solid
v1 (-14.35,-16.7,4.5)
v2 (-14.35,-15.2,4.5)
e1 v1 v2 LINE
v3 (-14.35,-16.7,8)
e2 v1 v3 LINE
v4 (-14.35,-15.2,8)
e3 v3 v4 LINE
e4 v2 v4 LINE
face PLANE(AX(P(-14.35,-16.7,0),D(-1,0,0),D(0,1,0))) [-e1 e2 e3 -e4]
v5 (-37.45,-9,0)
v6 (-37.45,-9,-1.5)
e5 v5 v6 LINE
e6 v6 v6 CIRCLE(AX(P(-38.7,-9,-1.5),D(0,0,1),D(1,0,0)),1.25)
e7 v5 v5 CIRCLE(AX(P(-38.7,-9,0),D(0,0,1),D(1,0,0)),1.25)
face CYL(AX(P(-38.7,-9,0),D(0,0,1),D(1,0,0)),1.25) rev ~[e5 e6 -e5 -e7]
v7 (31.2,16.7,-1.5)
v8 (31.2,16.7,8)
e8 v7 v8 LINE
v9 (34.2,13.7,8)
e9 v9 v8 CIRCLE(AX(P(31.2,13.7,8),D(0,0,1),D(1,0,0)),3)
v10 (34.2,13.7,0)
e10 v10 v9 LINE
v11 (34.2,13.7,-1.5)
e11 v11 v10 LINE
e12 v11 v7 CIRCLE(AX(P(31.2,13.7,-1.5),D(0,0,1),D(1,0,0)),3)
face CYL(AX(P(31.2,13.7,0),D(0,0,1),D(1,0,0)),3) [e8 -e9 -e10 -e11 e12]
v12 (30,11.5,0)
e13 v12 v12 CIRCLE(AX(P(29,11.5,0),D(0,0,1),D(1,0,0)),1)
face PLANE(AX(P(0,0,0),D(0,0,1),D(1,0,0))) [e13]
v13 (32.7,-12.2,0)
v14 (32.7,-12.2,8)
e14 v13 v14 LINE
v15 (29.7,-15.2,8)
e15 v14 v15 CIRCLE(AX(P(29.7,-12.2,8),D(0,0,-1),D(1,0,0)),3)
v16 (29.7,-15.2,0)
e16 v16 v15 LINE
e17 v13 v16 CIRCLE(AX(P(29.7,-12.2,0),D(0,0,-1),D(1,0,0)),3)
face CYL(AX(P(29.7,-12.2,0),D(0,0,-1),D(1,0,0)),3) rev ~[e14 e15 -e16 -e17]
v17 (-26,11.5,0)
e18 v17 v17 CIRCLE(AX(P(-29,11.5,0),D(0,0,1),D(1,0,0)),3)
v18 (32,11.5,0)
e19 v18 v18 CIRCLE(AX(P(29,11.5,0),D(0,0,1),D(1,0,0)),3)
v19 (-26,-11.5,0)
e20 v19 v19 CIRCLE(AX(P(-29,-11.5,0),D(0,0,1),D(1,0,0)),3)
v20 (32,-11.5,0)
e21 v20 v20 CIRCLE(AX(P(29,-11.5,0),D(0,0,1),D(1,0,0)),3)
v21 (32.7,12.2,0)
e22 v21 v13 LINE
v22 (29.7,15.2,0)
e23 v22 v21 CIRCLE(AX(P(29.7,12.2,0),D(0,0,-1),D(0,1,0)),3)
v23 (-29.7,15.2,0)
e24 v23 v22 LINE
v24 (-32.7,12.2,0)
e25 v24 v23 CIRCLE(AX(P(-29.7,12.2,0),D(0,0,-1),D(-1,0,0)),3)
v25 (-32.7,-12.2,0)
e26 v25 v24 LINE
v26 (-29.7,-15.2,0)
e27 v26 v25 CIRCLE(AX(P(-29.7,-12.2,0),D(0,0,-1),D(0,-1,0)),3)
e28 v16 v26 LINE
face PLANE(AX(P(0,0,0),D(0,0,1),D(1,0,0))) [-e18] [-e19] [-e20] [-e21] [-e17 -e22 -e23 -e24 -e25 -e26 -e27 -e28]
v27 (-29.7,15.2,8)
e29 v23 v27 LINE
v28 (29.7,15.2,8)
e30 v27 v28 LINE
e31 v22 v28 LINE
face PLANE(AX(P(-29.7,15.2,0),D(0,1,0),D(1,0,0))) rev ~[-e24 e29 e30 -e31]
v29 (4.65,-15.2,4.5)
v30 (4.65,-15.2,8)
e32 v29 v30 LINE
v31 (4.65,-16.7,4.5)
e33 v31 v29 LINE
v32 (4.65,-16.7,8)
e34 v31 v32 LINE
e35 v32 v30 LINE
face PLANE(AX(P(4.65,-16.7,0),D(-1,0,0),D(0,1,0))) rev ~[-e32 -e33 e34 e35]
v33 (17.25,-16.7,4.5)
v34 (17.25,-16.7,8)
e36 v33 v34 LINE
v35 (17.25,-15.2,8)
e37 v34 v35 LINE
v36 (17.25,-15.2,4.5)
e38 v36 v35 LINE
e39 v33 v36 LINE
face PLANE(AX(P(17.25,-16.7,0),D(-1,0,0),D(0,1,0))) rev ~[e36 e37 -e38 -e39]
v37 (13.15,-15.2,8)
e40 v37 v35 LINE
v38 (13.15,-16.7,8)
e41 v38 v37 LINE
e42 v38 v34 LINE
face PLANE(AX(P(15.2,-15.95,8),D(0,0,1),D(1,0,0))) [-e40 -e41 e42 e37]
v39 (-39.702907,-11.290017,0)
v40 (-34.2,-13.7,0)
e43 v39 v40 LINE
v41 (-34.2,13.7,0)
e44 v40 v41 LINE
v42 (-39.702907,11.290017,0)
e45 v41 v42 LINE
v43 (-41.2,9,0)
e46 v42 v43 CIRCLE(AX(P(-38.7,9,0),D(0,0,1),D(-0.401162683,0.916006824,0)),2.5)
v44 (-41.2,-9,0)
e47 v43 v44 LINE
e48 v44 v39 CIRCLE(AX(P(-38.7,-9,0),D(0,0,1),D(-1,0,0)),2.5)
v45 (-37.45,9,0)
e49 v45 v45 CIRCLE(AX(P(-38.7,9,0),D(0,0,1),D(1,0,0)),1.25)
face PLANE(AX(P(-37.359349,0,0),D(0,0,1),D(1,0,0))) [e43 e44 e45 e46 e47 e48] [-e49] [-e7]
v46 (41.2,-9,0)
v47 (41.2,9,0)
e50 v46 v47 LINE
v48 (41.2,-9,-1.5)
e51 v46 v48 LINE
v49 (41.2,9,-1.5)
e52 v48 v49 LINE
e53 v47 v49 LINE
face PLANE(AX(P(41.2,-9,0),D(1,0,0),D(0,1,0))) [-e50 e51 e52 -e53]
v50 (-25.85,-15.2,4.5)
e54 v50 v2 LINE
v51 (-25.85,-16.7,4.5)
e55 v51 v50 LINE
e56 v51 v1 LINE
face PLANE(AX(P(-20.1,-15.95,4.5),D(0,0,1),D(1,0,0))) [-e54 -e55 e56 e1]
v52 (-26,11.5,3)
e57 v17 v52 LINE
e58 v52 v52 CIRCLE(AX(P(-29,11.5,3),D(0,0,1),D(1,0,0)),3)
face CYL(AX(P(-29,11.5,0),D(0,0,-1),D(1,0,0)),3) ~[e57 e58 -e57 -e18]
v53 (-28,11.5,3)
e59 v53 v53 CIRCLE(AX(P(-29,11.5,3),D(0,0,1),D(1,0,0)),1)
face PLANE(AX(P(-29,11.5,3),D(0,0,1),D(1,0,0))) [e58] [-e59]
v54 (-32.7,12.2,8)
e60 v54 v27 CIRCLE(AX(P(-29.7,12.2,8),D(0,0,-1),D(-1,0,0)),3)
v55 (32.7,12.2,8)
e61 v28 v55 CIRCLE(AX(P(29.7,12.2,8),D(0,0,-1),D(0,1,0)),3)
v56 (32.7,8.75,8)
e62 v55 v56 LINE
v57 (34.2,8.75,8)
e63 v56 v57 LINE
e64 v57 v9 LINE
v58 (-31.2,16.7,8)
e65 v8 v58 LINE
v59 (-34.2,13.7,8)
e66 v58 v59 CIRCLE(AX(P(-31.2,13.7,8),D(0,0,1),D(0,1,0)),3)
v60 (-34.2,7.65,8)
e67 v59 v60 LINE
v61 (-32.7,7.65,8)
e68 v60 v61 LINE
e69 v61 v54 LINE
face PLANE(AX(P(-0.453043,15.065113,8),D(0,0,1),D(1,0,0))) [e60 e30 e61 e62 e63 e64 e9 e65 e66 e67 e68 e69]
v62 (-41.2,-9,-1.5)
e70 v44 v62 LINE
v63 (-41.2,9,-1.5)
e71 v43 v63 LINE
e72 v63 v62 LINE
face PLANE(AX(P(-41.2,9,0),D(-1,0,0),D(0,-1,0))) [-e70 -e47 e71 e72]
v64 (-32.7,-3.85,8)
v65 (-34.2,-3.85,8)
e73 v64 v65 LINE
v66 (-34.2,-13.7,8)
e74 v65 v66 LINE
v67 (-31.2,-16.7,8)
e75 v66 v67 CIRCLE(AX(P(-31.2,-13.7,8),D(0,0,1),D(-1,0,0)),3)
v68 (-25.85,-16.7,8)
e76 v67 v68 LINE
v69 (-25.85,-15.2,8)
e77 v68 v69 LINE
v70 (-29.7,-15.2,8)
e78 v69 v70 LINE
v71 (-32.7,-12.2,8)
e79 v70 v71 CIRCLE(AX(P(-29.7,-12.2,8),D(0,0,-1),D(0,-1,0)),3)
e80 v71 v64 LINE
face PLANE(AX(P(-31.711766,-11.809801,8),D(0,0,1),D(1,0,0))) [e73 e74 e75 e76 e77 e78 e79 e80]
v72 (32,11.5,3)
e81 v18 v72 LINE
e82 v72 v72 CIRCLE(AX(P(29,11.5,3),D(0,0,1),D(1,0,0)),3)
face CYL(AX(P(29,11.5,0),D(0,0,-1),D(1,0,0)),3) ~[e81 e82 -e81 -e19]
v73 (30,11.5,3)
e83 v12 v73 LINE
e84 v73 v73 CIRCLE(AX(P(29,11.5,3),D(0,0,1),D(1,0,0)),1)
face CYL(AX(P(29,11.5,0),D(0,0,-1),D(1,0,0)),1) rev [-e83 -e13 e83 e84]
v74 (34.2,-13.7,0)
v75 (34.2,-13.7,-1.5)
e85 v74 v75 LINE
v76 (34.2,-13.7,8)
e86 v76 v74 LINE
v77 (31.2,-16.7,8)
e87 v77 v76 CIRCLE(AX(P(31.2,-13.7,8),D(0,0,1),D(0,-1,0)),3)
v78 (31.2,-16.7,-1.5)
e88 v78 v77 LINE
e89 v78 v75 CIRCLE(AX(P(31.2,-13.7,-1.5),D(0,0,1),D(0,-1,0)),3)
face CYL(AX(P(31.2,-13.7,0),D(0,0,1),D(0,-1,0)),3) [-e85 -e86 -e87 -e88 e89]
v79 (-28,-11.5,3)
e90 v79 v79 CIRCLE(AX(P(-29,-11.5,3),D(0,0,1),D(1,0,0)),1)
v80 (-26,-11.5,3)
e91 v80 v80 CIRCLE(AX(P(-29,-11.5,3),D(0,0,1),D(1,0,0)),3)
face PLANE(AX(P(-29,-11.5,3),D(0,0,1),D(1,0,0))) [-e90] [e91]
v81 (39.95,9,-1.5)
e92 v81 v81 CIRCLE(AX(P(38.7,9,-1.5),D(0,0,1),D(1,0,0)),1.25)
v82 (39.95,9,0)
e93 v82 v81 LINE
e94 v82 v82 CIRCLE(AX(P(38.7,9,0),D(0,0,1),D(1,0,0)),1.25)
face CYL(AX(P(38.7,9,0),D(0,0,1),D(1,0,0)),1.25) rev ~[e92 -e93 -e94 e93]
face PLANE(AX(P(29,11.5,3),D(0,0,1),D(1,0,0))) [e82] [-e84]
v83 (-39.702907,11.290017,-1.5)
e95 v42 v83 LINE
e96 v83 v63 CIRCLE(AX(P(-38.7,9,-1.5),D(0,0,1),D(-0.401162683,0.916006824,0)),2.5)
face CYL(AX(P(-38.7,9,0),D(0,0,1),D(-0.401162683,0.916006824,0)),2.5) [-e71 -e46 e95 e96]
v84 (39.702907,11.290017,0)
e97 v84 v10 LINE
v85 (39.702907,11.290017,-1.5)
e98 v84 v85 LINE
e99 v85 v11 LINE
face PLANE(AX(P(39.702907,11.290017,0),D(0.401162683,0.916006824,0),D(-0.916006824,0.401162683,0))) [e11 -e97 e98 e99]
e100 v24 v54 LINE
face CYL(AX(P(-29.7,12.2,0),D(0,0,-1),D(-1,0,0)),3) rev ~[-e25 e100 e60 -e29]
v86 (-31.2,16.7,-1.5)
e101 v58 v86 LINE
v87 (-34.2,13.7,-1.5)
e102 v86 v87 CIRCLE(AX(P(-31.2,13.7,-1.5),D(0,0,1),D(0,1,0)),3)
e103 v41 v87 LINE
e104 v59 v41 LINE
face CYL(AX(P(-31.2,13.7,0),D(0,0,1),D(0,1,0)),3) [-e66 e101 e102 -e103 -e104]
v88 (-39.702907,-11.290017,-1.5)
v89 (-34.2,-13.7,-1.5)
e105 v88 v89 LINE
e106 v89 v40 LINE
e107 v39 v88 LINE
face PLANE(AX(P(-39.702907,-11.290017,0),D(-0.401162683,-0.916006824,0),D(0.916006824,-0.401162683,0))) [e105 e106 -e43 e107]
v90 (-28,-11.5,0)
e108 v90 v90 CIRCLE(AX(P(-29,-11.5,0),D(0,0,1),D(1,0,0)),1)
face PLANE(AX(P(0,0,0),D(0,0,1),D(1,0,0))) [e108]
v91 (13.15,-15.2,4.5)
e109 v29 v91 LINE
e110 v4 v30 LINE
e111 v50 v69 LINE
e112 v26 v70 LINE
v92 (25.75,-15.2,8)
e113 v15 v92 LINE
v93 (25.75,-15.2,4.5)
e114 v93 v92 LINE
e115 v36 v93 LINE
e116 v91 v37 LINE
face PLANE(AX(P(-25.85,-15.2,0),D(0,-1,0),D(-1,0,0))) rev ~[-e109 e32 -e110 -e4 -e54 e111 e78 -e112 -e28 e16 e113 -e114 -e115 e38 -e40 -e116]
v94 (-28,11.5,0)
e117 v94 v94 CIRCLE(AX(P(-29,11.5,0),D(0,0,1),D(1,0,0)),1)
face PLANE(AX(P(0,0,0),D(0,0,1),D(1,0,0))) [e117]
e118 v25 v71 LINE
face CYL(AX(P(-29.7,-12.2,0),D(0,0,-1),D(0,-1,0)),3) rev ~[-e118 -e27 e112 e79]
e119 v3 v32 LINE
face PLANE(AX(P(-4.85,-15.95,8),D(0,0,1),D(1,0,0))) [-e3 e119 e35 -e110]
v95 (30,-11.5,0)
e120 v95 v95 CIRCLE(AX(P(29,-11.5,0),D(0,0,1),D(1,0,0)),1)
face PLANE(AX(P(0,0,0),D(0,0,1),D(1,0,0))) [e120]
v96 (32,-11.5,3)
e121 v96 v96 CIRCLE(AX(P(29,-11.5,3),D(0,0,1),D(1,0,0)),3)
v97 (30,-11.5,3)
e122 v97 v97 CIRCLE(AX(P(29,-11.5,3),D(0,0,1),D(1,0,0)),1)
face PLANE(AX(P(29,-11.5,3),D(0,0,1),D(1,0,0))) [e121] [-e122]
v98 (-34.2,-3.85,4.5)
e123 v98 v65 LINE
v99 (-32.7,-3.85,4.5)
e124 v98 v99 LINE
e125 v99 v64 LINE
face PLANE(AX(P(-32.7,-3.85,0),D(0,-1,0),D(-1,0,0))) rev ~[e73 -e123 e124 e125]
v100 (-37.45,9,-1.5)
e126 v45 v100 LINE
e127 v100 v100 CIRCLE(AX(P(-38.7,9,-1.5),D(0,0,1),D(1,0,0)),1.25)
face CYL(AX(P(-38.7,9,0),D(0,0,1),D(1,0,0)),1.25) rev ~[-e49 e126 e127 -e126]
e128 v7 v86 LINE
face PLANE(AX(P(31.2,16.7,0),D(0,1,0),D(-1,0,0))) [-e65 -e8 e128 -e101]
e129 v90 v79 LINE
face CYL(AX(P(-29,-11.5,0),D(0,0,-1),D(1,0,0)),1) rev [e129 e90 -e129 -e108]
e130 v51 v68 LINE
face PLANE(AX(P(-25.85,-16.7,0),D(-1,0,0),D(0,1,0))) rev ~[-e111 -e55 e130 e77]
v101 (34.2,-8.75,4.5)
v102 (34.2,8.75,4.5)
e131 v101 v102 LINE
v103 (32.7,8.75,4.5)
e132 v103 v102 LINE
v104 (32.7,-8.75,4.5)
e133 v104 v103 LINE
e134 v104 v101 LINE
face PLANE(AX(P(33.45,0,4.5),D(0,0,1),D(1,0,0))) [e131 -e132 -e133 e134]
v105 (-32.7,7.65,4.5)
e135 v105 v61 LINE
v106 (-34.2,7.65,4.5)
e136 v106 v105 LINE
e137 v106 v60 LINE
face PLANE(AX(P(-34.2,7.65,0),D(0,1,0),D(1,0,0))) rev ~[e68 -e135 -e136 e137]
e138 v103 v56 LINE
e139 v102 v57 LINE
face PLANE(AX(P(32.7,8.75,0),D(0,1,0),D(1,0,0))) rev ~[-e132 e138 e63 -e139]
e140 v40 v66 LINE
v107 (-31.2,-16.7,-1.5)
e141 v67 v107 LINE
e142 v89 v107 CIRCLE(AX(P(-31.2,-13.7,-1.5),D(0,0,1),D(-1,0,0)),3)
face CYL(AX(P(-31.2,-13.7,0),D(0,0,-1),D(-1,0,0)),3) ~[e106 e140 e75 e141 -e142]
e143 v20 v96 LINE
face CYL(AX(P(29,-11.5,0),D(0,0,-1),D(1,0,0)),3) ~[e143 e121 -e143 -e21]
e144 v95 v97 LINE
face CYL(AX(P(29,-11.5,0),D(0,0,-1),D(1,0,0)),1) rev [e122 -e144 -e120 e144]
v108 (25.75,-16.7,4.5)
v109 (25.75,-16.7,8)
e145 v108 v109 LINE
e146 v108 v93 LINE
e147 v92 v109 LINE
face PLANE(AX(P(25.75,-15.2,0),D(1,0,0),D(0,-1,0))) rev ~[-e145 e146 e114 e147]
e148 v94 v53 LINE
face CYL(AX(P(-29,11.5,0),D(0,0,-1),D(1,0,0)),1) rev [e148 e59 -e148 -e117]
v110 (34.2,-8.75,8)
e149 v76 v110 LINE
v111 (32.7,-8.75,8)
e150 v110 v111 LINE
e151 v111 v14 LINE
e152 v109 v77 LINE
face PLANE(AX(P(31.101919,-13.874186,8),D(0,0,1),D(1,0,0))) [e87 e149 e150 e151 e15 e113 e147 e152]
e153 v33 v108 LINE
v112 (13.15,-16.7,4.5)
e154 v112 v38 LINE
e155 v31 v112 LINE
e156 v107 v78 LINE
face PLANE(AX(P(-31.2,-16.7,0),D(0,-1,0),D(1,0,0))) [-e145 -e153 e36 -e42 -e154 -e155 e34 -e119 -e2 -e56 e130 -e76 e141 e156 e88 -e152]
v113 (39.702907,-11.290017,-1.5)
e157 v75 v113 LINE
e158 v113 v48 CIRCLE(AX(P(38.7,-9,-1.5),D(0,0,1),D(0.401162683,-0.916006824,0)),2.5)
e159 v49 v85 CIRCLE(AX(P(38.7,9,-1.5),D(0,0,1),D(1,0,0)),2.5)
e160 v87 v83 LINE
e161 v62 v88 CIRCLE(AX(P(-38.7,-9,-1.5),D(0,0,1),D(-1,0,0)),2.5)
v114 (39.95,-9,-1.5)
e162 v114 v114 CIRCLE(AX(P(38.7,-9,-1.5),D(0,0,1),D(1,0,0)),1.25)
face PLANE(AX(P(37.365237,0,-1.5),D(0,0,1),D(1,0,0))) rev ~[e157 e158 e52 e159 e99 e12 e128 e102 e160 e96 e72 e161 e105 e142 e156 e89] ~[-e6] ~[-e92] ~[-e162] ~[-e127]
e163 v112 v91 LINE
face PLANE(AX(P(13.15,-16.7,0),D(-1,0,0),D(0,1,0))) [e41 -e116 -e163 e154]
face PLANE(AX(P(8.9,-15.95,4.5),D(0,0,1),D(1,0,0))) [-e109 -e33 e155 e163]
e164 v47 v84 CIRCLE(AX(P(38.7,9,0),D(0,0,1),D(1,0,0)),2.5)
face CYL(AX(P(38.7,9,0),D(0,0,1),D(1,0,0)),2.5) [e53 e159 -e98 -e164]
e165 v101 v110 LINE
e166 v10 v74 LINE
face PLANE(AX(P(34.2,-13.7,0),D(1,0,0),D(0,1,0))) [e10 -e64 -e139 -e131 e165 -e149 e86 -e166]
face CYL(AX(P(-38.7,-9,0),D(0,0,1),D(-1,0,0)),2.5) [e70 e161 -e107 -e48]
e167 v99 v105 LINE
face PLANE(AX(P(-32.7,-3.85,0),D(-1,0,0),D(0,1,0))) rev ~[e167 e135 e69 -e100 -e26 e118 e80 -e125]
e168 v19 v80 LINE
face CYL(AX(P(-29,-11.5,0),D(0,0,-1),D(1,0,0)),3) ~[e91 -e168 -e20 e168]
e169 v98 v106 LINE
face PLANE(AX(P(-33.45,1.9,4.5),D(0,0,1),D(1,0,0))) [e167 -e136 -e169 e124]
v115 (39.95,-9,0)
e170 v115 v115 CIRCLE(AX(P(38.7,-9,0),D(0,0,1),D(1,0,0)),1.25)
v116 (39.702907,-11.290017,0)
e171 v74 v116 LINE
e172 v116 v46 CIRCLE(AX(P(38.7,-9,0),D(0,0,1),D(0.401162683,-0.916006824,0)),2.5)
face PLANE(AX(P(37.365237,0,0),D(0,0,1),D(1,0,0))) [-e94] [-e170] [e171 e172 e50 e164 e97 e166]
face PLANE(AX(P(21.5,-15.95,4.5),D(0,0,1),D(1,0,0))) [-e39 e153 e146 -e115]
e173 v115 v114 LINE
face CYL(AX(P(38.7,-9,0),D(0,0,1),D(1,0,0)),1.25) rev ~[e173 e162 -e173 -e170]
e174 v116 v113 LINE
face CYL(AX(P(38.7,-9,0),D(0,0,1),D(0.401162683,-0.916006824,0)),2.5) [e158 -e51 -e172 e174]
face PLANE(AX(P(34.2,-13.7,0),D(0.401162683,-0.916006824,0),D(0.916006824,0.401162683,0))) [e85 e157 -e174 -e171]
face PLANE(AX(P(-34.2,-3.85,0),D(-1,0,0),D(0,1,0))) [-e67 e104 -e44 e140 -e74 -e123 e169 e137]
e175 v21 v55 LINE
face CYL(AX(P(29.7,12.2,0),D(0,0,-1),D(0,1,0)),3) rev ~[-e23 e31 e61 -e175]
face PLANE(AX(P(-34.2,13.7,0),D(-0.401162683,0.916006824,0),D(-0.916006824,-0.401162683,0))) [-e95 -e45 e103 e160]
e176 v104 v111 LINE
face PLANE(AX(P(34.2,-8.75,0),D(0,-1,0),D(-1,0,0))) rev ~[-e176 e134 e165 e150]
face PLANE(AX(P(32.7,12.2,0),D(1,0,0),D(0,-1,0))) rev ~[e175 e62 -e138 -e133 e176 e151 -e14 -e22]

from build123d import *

# Parameters (mm, degrees)
F0_R     = 3
F0_W     = 19
F0_H     = 1.5
F0_R_2   = 1
F0_W_2   = 1.5
F0_H_2   = 17.5
F0_H_3   = 11.5
F0_W_3   = 11.5
F0_W_4   = 8.5
F0_W_5   = 4.1
F1_DEPTH = 1.5
F2_DEPTH = 3
F3_DEPTH = 8
F4_DEPTH = 4.5
F5_R     = 1.25
F6_DEPTH = 1.5


with BuildPart() as f1:
    # F0 (on Top) → F1 (new body)
    with BuildSketch(Plane.XY):
        with BuildLine():
            Line((29.7, 15.2), (-29.7, 15.2))
            ThreePointArc((-29.7, 15.2), (-31.8213203436, 14.3213203436), (-32.7, 12.2))
            Line((-32.7, 12.2), (-32.7, 7.65))
            Line((-32.7, 7.65), (-32.7, -3.85))
            Line((-32.7, -3.85), (-32.7, -12.2))
            ThreePointArc((-32.7, -12.2), (-31.8213203436, -14.3213203436), (-29.7, -15.2))
            Line((-29.7, -15.2), (-25.85, -15.2))
            Line((-25.85, -15.2), (-14.35, -15.2))
            Line((-14.35, -15.2), (4.65, -15.2))
            Line((4.65, -15.2), (13.15, -15.2))
            Line((13.15, -15.2), (17.25, -15.2))
            Line((17.25, -15.2), (25.75, -15.2))
            Line((25.75, -15.2), (29.7, -15.2))
            ThreePointArc((29.7, -15.2), (31.8213203436, -14.3213203436), (32.7, -12.2))
            Line((32.7, -12.2), (32.7, -8.75))
            Line((32.7, -8.75), (32.7, 8.75))
            Line((32.7, 8.75), (32.7, 12.2))
            ThreePointArc((32.7, 12.2), (31.8213203436, 14.3213203436), (29.7, 15.2))
        make_face()
        with Locations((-29, -11.5)):
            Circle(F0_R, mode=Mode.SUBTRACT)
        with Locations((29, -11.5)):
            Circle(F0_R, mode=Mode.SUBTRACT)
        with Locations((-29, 11.5)):
            Circle(F0_R, mode=Mode.SUBTRACT)
        with Locations((29, 11.5)):
            Circle(F0_R, mode=Mode.SUBTRACT)
        with BuildLine():
            ThreePointArc((-32.7, 12.2), (-31.8213203436, 14.3213203436), (-29.7, 15.2))
            Line((-29.7, 15.2), (29.7, 15.2))
            ThreePointArc((29.7, 15.2), (31.8213203436, 14.3213203436), (32.7, 12.2))
            Line((32.7, 12.2), (32.7, 8.75))
            Line((32.7, 8.75), (34.2, 8.75))
            Line((34.2, 8.75), (34.2, 13.7))
            ThreePointArc((34.2, 13.7), (33.3213203436, 15.8213203436), (31.2, 16.7))
            Line((31.2, 16.7), (-31.2, 16.7))
            ThreePointArc((-31.2, 16.7), (-33.3213203436, 15.8213203436), (-34.2, 13.7))
            Line((-34.2, 13.7), (-34.2, 7.65))
            Line((-34.2, 7.65), (-32.7, 7.65))
            Line((-32.7, 7.65), (-32.7, 12.2))
        make_face()
        with BuildLine():
            Line((-32.7, -12.2), (-32.7, -3.85))
            Line((-32.7, -3.85), (-34.2, -3.85))
            Line((-34.2, -3.85), (-34.2, -13.7))
            ThreePointArc((-34.2, -13.7), (-33.3213203436, -15.8213203436), (-31.2, -16.7))
            Line((-31.2, -16.7), (-25.85, -16.7))
            Line((-25.85, -16.7), (-25.85, -15.2))
            Line((-25.85, -15.2), (-29.7, -15.2))
            ThreePointArc((-29.7, -15.2), (-31.8213203436, -14.3213203436), (-32.7, -12.2))
        make_face()
        with Locations((-4.85, -15.95)):
            Rectangle(F0_W, F0_H)
        with Locations((-29, -11.5)):
            Circle(F0_R)
        with Locations((-29, -11.5)):
            Circle(F0_R_2, mode=Mode.SUBTRACT)
        with Locations((-29, 11.5)):
            Circle(F0_R)
        with Locations((-29, 11.5)):
            Circle(F0_R_2, mode=Mode.SUBTRACT)
        with Locations((29, -11.5)):
            Circle(F0_R)
        with Locations((29, -11.5)):
            Circle(F0_R_2, mode=Mode.SUBTRACT)
        with Locations((29, 11.5)):
            Circle(F0_R)
        with Locations((29, 11.5)):
            Circle(F0_R_2, mode=Mode.SUBTRACT)
        with Locations((33.45, 0)):
            Rectangle(F0_W_2, F0_H_2)
        with BuildLine():
            Line((34.2, -8.75), (32.7, -8.75))
            Line((32.7, -8.75), (32.7, -12.2))
            ThreePointArc((32.7, -12.2), (31.8213203436, -14.3213203436), (29.7, -15.2))
            Line((29.7, -15.2), (25.75, -15.2))
            Line((25.75, -15.2), (25.75, -16.7))
            Line((25.75, -16.7), (31.2, -16.7))
            ThreePointArc((31.2, -16.7), (33.3213203436, -15.8213203436), (34.2, -13.7))
            Line((34.2, -13.7), (34.2, -8.75))
        make_face()
        with Locations((-33.45, 1.9)):
            Rectangle(F0_W_2, F0_H_3)
        with Locations((-20.1, -15.95)):
            Rectangle(F0_W_3, F0_H)
        with Locations((21.5, -15.95)):
            Rectangle(F0_W_4, F0_H)
        with Locations((8.9, -15.95)):
            Rectangle(F0_W_4, F0_H)
        with Locations((15.2, -15.95)):
            Rectangle(F0_W_5, F0_H)
        with Locations((-29, -11.5)):
            Circle(F0_R_2)
        with Locations((-29, 11.5)):
            Circle(F0_R_2)
        with Locations((29, -11.5)):
            Circle(F0_R_2)
        with Locations((29, 11.5)):
            Circle(F0_R_2)
    extrude(amount=-F1_DEPTH)

    # F0 (on Top) → F2 (join)
    with BuildSketch(Plane.XY):
        with Locations((-29, 11.5)):
            Circle(F0_R)
        with Locations((-29, 11.5)):
            Circle(F0_R_2, mode=Mode.SUBTRACT)
        with Locations((-29, -11.5)):
            Circle(F0_R)
        with Locations((-29, -11.5)):
            Circle(F0_R_2, mode=Mode.SUBTRACT)
        with Locations((29, 11.5)):
            Circle(F0_R)
        with Locations((29, 11.5)):
            Circle(F0_R_2, mode=Mode.SUBTRACT)
        with Locations((29, -11.5)):
            Circle(F0_R)
        with Locations((29, -11.5)):
            Circle(F0_R_2, mode=Mode.SUBTRACT)
    extrude(amount=F2_DEPTH)

    # F0 (on Top) → F3 (join)
    with BuildSketch(Plane.XY):
        with BuildLine():
            Line((-32.7, -12.2), (-32.7, -3.85))
            Line((-32.7, -3.85), (-34.2, -3.85))
            Line((-34.2, -3.85), (-34.2, -13.7))
            ThreePointArc((-34.2, -13.7), (-33.3213203436, -15.8213203436), (-31.2, -16.7))
            Line((-31.2, -16.7), (-25.85, -16.7))
            Line((-25.85, -16.7), (-25.85, -15.2))
            Line((-25.85, -15.2), (-29.7, -15.2))
            ThreePointArc((-29.7, -15.2), (-31.8213203436, -14.3213203436), (-32.7, -12.2))
        make_face()
        with BuildLine():
            ThreePointArc((-32.7, 12.2), (-31.8213203436, 14.3213203436), (-29.7, 15.2))
            Line((-29.7, 15.2), (29.7, 15.2))
            ThreePointArc((29.7, 15.2), (31.8213203436, 14.3213203436), (32.7, 12.2))
            Line((32.7, 12.2), (32.7, 8.75))
            Line((32.7, 8.75), (34.2, 8.75))
            Line((34.2, 8.75), (34.2, 13.7))
            ThreePointArc((34.2, 13.7), (33.3213203436, 15.8213203436), (31.2, 16.7))
            Line((31.2, 16.7), (-31.2, 16.7))
            ThreePointArc((-31.2, 16.7), (-33.3213203436, 15.8213203436), (-34.2, 13.7))
            Line((-34.2, 13.7), (-34.2, 7.65))
            Line((-34.2, 7.65), (-32.7, 7.65))
            Line((-32.7, 7.65), (-32.7, 12.2))
        make_face()
        with Locations((-4.85, -15.95)):
            Rectangle(F0_W, F0_H)
        with Locations((15.2, -15.95)):
            Rectangle(F0_W_5, F0_H)
        with BuildLine():
            Line((34.2, -8.75), (32.7, -8.75))
            Line((32.7, -8.75), (32.7, -12.2))
            ThreePointArc((32.7, -12.2), (31.8213203436, -14.3213203436), (29.7, -15.2))
            Line((29.7, -15.2), (25.75, -15.2))
            Line((25.75, -15.2), (25.75, -16.7))
            Line((25.75, -16.7), (31.2, -16.7))
            ThreePointArc((31.2, -16.7), (33.3213203436, -15.8213203436), (34.2, -13.7))
            Line((34.2, -13.7), (34.2, -8.75))
        make_face()
    extrude(amount=F3_DEPTH)

    # F0 (on Top) → F4 (join)
    with BuildSketch(Plane.XY):
        with Locations((-33.45, 1.9)):
            Rectangle(F0_W_2, F0_H_3)
        with Locations((-20.1, -15.95)):
            Rectangle(F0_W_3, F0_H)
        with Locations((8.9, -15.95)):
            Rectangle(F0_W_4, F0_H)
        with Locations((21.5, -15.95)):
            Rectangle(F0_W_4, F0_H)
        with Locations((33.45, 0)):
            Rectangle(F0_W_2, F0_H_2)
    extrude(amount=F4_DEPTH)

    # F5 (on face) → F6 (join)
    with BuildSketch(Plane.XY):
        with BuildLine():
            Line((39.7029067074, 11.2900170603), (34.2, 13.7))
            Line((34.2, 13.7), (34.2, -13.7))
            Line((34.2, -13.7), (39.7029067074, -11.2900170603))
            ThreePointArc((39.7029067074, -11.2900170603), (36.607481569, -7.6320209739), (41.2, -9))
            Line((41.2, -9), (41.2, 9))
            ThreePointArc((41.2, 9), (36.607481569, 7.6320209739), (39.7029067074, 11.2900170603))
        make_face()
        with BuildLine():
            ThreePointArc((41.2, -9), (36.607481569, -7.6320209739), (39.7029067074, -11.2900170603))
            ThreePointArc((39.7029067074, -11.2900170603), (40.792518431, -10.3679790261), (41.2, -9))
        make_face()
        with Locations((38.7, -9)):
            Circle(F5_R, mode=Mode.SUBTRACT)
        with BuildLine():
            ThreePointArc((41.2, 9), (40.792518431, 10.3679790261), (39.7029067074, 11.2900170603))
            ThreePointArc((39.7029067074, 11.2900170603), (36.607481569, 7.6320209739), (41.2, 9))
        make_face()
        with Locations((38.7, 9)):
            Circle(F5_R, mode=Mode.SUBTRACT)
        with BuildLine():
            Line((-34.2, -13.7), (-34.2, 13.7))
            Line((-34.2, 13.7), (-39.7029067074, 11.2900170603))
            ThreePointArc((-39.7029067074, 11.2900170603), (-37.3320209739, 11.092518431), (-36.2, 9))
            ThreePointArc((-36.2, 9), (-38.7, 6.5), (-41.2, 9))
            Line((-41.2, 9), (-41.2, -9))
            ThreePointArc((-41.2, -9), (-38.7, -6.5), (-36.2, -9))
            ThreePointArc((-36.2, -9), (-37.3320209739, -11.092518431), (-39.7029067074, -11.2900170603))
            Line((-39.7029067074, -11.2900170603), (-34.2, -13.7))
        make_face()
        with BuildLine():
            ThreePointArc((-36.2, 9), (-37.3320209739, 11.092518431), (-39.7029067074, 11.2900170603))
            ThreePointArc((-39.7029067074, 11.2900170603), (-40.792518431, 10.3679790261), (-41.2, 9))
            ThreePointArc((-41.2, 9), (-38.7, 6.5), (-36.2, 9))
        make_face()
        with Locations((-38.7, 9)):
            Circle(F5_R, mode=Mode.SUBTRACT)
        with BuildLine():
            ThreePointArc((-41.2, -9), (-40.792518431, -10.3679790261), (-39.7029067074, -11.2900170603))
            ThreePointArc((-39.7029067074, -11.2900170603), (-37.3320209739, -11.092518431), (-36.2, -9))
            ThreePointArc((-36.2, -9), (-38.7, -6.5), (-41.2, -9))
        make_face()
        with Locations((-38.7, -9)):
            Circle(F5_R, mode=Mode.SUBTRACT)
    extrude(amount=-F6_DEPTH)


solid = f1.part
